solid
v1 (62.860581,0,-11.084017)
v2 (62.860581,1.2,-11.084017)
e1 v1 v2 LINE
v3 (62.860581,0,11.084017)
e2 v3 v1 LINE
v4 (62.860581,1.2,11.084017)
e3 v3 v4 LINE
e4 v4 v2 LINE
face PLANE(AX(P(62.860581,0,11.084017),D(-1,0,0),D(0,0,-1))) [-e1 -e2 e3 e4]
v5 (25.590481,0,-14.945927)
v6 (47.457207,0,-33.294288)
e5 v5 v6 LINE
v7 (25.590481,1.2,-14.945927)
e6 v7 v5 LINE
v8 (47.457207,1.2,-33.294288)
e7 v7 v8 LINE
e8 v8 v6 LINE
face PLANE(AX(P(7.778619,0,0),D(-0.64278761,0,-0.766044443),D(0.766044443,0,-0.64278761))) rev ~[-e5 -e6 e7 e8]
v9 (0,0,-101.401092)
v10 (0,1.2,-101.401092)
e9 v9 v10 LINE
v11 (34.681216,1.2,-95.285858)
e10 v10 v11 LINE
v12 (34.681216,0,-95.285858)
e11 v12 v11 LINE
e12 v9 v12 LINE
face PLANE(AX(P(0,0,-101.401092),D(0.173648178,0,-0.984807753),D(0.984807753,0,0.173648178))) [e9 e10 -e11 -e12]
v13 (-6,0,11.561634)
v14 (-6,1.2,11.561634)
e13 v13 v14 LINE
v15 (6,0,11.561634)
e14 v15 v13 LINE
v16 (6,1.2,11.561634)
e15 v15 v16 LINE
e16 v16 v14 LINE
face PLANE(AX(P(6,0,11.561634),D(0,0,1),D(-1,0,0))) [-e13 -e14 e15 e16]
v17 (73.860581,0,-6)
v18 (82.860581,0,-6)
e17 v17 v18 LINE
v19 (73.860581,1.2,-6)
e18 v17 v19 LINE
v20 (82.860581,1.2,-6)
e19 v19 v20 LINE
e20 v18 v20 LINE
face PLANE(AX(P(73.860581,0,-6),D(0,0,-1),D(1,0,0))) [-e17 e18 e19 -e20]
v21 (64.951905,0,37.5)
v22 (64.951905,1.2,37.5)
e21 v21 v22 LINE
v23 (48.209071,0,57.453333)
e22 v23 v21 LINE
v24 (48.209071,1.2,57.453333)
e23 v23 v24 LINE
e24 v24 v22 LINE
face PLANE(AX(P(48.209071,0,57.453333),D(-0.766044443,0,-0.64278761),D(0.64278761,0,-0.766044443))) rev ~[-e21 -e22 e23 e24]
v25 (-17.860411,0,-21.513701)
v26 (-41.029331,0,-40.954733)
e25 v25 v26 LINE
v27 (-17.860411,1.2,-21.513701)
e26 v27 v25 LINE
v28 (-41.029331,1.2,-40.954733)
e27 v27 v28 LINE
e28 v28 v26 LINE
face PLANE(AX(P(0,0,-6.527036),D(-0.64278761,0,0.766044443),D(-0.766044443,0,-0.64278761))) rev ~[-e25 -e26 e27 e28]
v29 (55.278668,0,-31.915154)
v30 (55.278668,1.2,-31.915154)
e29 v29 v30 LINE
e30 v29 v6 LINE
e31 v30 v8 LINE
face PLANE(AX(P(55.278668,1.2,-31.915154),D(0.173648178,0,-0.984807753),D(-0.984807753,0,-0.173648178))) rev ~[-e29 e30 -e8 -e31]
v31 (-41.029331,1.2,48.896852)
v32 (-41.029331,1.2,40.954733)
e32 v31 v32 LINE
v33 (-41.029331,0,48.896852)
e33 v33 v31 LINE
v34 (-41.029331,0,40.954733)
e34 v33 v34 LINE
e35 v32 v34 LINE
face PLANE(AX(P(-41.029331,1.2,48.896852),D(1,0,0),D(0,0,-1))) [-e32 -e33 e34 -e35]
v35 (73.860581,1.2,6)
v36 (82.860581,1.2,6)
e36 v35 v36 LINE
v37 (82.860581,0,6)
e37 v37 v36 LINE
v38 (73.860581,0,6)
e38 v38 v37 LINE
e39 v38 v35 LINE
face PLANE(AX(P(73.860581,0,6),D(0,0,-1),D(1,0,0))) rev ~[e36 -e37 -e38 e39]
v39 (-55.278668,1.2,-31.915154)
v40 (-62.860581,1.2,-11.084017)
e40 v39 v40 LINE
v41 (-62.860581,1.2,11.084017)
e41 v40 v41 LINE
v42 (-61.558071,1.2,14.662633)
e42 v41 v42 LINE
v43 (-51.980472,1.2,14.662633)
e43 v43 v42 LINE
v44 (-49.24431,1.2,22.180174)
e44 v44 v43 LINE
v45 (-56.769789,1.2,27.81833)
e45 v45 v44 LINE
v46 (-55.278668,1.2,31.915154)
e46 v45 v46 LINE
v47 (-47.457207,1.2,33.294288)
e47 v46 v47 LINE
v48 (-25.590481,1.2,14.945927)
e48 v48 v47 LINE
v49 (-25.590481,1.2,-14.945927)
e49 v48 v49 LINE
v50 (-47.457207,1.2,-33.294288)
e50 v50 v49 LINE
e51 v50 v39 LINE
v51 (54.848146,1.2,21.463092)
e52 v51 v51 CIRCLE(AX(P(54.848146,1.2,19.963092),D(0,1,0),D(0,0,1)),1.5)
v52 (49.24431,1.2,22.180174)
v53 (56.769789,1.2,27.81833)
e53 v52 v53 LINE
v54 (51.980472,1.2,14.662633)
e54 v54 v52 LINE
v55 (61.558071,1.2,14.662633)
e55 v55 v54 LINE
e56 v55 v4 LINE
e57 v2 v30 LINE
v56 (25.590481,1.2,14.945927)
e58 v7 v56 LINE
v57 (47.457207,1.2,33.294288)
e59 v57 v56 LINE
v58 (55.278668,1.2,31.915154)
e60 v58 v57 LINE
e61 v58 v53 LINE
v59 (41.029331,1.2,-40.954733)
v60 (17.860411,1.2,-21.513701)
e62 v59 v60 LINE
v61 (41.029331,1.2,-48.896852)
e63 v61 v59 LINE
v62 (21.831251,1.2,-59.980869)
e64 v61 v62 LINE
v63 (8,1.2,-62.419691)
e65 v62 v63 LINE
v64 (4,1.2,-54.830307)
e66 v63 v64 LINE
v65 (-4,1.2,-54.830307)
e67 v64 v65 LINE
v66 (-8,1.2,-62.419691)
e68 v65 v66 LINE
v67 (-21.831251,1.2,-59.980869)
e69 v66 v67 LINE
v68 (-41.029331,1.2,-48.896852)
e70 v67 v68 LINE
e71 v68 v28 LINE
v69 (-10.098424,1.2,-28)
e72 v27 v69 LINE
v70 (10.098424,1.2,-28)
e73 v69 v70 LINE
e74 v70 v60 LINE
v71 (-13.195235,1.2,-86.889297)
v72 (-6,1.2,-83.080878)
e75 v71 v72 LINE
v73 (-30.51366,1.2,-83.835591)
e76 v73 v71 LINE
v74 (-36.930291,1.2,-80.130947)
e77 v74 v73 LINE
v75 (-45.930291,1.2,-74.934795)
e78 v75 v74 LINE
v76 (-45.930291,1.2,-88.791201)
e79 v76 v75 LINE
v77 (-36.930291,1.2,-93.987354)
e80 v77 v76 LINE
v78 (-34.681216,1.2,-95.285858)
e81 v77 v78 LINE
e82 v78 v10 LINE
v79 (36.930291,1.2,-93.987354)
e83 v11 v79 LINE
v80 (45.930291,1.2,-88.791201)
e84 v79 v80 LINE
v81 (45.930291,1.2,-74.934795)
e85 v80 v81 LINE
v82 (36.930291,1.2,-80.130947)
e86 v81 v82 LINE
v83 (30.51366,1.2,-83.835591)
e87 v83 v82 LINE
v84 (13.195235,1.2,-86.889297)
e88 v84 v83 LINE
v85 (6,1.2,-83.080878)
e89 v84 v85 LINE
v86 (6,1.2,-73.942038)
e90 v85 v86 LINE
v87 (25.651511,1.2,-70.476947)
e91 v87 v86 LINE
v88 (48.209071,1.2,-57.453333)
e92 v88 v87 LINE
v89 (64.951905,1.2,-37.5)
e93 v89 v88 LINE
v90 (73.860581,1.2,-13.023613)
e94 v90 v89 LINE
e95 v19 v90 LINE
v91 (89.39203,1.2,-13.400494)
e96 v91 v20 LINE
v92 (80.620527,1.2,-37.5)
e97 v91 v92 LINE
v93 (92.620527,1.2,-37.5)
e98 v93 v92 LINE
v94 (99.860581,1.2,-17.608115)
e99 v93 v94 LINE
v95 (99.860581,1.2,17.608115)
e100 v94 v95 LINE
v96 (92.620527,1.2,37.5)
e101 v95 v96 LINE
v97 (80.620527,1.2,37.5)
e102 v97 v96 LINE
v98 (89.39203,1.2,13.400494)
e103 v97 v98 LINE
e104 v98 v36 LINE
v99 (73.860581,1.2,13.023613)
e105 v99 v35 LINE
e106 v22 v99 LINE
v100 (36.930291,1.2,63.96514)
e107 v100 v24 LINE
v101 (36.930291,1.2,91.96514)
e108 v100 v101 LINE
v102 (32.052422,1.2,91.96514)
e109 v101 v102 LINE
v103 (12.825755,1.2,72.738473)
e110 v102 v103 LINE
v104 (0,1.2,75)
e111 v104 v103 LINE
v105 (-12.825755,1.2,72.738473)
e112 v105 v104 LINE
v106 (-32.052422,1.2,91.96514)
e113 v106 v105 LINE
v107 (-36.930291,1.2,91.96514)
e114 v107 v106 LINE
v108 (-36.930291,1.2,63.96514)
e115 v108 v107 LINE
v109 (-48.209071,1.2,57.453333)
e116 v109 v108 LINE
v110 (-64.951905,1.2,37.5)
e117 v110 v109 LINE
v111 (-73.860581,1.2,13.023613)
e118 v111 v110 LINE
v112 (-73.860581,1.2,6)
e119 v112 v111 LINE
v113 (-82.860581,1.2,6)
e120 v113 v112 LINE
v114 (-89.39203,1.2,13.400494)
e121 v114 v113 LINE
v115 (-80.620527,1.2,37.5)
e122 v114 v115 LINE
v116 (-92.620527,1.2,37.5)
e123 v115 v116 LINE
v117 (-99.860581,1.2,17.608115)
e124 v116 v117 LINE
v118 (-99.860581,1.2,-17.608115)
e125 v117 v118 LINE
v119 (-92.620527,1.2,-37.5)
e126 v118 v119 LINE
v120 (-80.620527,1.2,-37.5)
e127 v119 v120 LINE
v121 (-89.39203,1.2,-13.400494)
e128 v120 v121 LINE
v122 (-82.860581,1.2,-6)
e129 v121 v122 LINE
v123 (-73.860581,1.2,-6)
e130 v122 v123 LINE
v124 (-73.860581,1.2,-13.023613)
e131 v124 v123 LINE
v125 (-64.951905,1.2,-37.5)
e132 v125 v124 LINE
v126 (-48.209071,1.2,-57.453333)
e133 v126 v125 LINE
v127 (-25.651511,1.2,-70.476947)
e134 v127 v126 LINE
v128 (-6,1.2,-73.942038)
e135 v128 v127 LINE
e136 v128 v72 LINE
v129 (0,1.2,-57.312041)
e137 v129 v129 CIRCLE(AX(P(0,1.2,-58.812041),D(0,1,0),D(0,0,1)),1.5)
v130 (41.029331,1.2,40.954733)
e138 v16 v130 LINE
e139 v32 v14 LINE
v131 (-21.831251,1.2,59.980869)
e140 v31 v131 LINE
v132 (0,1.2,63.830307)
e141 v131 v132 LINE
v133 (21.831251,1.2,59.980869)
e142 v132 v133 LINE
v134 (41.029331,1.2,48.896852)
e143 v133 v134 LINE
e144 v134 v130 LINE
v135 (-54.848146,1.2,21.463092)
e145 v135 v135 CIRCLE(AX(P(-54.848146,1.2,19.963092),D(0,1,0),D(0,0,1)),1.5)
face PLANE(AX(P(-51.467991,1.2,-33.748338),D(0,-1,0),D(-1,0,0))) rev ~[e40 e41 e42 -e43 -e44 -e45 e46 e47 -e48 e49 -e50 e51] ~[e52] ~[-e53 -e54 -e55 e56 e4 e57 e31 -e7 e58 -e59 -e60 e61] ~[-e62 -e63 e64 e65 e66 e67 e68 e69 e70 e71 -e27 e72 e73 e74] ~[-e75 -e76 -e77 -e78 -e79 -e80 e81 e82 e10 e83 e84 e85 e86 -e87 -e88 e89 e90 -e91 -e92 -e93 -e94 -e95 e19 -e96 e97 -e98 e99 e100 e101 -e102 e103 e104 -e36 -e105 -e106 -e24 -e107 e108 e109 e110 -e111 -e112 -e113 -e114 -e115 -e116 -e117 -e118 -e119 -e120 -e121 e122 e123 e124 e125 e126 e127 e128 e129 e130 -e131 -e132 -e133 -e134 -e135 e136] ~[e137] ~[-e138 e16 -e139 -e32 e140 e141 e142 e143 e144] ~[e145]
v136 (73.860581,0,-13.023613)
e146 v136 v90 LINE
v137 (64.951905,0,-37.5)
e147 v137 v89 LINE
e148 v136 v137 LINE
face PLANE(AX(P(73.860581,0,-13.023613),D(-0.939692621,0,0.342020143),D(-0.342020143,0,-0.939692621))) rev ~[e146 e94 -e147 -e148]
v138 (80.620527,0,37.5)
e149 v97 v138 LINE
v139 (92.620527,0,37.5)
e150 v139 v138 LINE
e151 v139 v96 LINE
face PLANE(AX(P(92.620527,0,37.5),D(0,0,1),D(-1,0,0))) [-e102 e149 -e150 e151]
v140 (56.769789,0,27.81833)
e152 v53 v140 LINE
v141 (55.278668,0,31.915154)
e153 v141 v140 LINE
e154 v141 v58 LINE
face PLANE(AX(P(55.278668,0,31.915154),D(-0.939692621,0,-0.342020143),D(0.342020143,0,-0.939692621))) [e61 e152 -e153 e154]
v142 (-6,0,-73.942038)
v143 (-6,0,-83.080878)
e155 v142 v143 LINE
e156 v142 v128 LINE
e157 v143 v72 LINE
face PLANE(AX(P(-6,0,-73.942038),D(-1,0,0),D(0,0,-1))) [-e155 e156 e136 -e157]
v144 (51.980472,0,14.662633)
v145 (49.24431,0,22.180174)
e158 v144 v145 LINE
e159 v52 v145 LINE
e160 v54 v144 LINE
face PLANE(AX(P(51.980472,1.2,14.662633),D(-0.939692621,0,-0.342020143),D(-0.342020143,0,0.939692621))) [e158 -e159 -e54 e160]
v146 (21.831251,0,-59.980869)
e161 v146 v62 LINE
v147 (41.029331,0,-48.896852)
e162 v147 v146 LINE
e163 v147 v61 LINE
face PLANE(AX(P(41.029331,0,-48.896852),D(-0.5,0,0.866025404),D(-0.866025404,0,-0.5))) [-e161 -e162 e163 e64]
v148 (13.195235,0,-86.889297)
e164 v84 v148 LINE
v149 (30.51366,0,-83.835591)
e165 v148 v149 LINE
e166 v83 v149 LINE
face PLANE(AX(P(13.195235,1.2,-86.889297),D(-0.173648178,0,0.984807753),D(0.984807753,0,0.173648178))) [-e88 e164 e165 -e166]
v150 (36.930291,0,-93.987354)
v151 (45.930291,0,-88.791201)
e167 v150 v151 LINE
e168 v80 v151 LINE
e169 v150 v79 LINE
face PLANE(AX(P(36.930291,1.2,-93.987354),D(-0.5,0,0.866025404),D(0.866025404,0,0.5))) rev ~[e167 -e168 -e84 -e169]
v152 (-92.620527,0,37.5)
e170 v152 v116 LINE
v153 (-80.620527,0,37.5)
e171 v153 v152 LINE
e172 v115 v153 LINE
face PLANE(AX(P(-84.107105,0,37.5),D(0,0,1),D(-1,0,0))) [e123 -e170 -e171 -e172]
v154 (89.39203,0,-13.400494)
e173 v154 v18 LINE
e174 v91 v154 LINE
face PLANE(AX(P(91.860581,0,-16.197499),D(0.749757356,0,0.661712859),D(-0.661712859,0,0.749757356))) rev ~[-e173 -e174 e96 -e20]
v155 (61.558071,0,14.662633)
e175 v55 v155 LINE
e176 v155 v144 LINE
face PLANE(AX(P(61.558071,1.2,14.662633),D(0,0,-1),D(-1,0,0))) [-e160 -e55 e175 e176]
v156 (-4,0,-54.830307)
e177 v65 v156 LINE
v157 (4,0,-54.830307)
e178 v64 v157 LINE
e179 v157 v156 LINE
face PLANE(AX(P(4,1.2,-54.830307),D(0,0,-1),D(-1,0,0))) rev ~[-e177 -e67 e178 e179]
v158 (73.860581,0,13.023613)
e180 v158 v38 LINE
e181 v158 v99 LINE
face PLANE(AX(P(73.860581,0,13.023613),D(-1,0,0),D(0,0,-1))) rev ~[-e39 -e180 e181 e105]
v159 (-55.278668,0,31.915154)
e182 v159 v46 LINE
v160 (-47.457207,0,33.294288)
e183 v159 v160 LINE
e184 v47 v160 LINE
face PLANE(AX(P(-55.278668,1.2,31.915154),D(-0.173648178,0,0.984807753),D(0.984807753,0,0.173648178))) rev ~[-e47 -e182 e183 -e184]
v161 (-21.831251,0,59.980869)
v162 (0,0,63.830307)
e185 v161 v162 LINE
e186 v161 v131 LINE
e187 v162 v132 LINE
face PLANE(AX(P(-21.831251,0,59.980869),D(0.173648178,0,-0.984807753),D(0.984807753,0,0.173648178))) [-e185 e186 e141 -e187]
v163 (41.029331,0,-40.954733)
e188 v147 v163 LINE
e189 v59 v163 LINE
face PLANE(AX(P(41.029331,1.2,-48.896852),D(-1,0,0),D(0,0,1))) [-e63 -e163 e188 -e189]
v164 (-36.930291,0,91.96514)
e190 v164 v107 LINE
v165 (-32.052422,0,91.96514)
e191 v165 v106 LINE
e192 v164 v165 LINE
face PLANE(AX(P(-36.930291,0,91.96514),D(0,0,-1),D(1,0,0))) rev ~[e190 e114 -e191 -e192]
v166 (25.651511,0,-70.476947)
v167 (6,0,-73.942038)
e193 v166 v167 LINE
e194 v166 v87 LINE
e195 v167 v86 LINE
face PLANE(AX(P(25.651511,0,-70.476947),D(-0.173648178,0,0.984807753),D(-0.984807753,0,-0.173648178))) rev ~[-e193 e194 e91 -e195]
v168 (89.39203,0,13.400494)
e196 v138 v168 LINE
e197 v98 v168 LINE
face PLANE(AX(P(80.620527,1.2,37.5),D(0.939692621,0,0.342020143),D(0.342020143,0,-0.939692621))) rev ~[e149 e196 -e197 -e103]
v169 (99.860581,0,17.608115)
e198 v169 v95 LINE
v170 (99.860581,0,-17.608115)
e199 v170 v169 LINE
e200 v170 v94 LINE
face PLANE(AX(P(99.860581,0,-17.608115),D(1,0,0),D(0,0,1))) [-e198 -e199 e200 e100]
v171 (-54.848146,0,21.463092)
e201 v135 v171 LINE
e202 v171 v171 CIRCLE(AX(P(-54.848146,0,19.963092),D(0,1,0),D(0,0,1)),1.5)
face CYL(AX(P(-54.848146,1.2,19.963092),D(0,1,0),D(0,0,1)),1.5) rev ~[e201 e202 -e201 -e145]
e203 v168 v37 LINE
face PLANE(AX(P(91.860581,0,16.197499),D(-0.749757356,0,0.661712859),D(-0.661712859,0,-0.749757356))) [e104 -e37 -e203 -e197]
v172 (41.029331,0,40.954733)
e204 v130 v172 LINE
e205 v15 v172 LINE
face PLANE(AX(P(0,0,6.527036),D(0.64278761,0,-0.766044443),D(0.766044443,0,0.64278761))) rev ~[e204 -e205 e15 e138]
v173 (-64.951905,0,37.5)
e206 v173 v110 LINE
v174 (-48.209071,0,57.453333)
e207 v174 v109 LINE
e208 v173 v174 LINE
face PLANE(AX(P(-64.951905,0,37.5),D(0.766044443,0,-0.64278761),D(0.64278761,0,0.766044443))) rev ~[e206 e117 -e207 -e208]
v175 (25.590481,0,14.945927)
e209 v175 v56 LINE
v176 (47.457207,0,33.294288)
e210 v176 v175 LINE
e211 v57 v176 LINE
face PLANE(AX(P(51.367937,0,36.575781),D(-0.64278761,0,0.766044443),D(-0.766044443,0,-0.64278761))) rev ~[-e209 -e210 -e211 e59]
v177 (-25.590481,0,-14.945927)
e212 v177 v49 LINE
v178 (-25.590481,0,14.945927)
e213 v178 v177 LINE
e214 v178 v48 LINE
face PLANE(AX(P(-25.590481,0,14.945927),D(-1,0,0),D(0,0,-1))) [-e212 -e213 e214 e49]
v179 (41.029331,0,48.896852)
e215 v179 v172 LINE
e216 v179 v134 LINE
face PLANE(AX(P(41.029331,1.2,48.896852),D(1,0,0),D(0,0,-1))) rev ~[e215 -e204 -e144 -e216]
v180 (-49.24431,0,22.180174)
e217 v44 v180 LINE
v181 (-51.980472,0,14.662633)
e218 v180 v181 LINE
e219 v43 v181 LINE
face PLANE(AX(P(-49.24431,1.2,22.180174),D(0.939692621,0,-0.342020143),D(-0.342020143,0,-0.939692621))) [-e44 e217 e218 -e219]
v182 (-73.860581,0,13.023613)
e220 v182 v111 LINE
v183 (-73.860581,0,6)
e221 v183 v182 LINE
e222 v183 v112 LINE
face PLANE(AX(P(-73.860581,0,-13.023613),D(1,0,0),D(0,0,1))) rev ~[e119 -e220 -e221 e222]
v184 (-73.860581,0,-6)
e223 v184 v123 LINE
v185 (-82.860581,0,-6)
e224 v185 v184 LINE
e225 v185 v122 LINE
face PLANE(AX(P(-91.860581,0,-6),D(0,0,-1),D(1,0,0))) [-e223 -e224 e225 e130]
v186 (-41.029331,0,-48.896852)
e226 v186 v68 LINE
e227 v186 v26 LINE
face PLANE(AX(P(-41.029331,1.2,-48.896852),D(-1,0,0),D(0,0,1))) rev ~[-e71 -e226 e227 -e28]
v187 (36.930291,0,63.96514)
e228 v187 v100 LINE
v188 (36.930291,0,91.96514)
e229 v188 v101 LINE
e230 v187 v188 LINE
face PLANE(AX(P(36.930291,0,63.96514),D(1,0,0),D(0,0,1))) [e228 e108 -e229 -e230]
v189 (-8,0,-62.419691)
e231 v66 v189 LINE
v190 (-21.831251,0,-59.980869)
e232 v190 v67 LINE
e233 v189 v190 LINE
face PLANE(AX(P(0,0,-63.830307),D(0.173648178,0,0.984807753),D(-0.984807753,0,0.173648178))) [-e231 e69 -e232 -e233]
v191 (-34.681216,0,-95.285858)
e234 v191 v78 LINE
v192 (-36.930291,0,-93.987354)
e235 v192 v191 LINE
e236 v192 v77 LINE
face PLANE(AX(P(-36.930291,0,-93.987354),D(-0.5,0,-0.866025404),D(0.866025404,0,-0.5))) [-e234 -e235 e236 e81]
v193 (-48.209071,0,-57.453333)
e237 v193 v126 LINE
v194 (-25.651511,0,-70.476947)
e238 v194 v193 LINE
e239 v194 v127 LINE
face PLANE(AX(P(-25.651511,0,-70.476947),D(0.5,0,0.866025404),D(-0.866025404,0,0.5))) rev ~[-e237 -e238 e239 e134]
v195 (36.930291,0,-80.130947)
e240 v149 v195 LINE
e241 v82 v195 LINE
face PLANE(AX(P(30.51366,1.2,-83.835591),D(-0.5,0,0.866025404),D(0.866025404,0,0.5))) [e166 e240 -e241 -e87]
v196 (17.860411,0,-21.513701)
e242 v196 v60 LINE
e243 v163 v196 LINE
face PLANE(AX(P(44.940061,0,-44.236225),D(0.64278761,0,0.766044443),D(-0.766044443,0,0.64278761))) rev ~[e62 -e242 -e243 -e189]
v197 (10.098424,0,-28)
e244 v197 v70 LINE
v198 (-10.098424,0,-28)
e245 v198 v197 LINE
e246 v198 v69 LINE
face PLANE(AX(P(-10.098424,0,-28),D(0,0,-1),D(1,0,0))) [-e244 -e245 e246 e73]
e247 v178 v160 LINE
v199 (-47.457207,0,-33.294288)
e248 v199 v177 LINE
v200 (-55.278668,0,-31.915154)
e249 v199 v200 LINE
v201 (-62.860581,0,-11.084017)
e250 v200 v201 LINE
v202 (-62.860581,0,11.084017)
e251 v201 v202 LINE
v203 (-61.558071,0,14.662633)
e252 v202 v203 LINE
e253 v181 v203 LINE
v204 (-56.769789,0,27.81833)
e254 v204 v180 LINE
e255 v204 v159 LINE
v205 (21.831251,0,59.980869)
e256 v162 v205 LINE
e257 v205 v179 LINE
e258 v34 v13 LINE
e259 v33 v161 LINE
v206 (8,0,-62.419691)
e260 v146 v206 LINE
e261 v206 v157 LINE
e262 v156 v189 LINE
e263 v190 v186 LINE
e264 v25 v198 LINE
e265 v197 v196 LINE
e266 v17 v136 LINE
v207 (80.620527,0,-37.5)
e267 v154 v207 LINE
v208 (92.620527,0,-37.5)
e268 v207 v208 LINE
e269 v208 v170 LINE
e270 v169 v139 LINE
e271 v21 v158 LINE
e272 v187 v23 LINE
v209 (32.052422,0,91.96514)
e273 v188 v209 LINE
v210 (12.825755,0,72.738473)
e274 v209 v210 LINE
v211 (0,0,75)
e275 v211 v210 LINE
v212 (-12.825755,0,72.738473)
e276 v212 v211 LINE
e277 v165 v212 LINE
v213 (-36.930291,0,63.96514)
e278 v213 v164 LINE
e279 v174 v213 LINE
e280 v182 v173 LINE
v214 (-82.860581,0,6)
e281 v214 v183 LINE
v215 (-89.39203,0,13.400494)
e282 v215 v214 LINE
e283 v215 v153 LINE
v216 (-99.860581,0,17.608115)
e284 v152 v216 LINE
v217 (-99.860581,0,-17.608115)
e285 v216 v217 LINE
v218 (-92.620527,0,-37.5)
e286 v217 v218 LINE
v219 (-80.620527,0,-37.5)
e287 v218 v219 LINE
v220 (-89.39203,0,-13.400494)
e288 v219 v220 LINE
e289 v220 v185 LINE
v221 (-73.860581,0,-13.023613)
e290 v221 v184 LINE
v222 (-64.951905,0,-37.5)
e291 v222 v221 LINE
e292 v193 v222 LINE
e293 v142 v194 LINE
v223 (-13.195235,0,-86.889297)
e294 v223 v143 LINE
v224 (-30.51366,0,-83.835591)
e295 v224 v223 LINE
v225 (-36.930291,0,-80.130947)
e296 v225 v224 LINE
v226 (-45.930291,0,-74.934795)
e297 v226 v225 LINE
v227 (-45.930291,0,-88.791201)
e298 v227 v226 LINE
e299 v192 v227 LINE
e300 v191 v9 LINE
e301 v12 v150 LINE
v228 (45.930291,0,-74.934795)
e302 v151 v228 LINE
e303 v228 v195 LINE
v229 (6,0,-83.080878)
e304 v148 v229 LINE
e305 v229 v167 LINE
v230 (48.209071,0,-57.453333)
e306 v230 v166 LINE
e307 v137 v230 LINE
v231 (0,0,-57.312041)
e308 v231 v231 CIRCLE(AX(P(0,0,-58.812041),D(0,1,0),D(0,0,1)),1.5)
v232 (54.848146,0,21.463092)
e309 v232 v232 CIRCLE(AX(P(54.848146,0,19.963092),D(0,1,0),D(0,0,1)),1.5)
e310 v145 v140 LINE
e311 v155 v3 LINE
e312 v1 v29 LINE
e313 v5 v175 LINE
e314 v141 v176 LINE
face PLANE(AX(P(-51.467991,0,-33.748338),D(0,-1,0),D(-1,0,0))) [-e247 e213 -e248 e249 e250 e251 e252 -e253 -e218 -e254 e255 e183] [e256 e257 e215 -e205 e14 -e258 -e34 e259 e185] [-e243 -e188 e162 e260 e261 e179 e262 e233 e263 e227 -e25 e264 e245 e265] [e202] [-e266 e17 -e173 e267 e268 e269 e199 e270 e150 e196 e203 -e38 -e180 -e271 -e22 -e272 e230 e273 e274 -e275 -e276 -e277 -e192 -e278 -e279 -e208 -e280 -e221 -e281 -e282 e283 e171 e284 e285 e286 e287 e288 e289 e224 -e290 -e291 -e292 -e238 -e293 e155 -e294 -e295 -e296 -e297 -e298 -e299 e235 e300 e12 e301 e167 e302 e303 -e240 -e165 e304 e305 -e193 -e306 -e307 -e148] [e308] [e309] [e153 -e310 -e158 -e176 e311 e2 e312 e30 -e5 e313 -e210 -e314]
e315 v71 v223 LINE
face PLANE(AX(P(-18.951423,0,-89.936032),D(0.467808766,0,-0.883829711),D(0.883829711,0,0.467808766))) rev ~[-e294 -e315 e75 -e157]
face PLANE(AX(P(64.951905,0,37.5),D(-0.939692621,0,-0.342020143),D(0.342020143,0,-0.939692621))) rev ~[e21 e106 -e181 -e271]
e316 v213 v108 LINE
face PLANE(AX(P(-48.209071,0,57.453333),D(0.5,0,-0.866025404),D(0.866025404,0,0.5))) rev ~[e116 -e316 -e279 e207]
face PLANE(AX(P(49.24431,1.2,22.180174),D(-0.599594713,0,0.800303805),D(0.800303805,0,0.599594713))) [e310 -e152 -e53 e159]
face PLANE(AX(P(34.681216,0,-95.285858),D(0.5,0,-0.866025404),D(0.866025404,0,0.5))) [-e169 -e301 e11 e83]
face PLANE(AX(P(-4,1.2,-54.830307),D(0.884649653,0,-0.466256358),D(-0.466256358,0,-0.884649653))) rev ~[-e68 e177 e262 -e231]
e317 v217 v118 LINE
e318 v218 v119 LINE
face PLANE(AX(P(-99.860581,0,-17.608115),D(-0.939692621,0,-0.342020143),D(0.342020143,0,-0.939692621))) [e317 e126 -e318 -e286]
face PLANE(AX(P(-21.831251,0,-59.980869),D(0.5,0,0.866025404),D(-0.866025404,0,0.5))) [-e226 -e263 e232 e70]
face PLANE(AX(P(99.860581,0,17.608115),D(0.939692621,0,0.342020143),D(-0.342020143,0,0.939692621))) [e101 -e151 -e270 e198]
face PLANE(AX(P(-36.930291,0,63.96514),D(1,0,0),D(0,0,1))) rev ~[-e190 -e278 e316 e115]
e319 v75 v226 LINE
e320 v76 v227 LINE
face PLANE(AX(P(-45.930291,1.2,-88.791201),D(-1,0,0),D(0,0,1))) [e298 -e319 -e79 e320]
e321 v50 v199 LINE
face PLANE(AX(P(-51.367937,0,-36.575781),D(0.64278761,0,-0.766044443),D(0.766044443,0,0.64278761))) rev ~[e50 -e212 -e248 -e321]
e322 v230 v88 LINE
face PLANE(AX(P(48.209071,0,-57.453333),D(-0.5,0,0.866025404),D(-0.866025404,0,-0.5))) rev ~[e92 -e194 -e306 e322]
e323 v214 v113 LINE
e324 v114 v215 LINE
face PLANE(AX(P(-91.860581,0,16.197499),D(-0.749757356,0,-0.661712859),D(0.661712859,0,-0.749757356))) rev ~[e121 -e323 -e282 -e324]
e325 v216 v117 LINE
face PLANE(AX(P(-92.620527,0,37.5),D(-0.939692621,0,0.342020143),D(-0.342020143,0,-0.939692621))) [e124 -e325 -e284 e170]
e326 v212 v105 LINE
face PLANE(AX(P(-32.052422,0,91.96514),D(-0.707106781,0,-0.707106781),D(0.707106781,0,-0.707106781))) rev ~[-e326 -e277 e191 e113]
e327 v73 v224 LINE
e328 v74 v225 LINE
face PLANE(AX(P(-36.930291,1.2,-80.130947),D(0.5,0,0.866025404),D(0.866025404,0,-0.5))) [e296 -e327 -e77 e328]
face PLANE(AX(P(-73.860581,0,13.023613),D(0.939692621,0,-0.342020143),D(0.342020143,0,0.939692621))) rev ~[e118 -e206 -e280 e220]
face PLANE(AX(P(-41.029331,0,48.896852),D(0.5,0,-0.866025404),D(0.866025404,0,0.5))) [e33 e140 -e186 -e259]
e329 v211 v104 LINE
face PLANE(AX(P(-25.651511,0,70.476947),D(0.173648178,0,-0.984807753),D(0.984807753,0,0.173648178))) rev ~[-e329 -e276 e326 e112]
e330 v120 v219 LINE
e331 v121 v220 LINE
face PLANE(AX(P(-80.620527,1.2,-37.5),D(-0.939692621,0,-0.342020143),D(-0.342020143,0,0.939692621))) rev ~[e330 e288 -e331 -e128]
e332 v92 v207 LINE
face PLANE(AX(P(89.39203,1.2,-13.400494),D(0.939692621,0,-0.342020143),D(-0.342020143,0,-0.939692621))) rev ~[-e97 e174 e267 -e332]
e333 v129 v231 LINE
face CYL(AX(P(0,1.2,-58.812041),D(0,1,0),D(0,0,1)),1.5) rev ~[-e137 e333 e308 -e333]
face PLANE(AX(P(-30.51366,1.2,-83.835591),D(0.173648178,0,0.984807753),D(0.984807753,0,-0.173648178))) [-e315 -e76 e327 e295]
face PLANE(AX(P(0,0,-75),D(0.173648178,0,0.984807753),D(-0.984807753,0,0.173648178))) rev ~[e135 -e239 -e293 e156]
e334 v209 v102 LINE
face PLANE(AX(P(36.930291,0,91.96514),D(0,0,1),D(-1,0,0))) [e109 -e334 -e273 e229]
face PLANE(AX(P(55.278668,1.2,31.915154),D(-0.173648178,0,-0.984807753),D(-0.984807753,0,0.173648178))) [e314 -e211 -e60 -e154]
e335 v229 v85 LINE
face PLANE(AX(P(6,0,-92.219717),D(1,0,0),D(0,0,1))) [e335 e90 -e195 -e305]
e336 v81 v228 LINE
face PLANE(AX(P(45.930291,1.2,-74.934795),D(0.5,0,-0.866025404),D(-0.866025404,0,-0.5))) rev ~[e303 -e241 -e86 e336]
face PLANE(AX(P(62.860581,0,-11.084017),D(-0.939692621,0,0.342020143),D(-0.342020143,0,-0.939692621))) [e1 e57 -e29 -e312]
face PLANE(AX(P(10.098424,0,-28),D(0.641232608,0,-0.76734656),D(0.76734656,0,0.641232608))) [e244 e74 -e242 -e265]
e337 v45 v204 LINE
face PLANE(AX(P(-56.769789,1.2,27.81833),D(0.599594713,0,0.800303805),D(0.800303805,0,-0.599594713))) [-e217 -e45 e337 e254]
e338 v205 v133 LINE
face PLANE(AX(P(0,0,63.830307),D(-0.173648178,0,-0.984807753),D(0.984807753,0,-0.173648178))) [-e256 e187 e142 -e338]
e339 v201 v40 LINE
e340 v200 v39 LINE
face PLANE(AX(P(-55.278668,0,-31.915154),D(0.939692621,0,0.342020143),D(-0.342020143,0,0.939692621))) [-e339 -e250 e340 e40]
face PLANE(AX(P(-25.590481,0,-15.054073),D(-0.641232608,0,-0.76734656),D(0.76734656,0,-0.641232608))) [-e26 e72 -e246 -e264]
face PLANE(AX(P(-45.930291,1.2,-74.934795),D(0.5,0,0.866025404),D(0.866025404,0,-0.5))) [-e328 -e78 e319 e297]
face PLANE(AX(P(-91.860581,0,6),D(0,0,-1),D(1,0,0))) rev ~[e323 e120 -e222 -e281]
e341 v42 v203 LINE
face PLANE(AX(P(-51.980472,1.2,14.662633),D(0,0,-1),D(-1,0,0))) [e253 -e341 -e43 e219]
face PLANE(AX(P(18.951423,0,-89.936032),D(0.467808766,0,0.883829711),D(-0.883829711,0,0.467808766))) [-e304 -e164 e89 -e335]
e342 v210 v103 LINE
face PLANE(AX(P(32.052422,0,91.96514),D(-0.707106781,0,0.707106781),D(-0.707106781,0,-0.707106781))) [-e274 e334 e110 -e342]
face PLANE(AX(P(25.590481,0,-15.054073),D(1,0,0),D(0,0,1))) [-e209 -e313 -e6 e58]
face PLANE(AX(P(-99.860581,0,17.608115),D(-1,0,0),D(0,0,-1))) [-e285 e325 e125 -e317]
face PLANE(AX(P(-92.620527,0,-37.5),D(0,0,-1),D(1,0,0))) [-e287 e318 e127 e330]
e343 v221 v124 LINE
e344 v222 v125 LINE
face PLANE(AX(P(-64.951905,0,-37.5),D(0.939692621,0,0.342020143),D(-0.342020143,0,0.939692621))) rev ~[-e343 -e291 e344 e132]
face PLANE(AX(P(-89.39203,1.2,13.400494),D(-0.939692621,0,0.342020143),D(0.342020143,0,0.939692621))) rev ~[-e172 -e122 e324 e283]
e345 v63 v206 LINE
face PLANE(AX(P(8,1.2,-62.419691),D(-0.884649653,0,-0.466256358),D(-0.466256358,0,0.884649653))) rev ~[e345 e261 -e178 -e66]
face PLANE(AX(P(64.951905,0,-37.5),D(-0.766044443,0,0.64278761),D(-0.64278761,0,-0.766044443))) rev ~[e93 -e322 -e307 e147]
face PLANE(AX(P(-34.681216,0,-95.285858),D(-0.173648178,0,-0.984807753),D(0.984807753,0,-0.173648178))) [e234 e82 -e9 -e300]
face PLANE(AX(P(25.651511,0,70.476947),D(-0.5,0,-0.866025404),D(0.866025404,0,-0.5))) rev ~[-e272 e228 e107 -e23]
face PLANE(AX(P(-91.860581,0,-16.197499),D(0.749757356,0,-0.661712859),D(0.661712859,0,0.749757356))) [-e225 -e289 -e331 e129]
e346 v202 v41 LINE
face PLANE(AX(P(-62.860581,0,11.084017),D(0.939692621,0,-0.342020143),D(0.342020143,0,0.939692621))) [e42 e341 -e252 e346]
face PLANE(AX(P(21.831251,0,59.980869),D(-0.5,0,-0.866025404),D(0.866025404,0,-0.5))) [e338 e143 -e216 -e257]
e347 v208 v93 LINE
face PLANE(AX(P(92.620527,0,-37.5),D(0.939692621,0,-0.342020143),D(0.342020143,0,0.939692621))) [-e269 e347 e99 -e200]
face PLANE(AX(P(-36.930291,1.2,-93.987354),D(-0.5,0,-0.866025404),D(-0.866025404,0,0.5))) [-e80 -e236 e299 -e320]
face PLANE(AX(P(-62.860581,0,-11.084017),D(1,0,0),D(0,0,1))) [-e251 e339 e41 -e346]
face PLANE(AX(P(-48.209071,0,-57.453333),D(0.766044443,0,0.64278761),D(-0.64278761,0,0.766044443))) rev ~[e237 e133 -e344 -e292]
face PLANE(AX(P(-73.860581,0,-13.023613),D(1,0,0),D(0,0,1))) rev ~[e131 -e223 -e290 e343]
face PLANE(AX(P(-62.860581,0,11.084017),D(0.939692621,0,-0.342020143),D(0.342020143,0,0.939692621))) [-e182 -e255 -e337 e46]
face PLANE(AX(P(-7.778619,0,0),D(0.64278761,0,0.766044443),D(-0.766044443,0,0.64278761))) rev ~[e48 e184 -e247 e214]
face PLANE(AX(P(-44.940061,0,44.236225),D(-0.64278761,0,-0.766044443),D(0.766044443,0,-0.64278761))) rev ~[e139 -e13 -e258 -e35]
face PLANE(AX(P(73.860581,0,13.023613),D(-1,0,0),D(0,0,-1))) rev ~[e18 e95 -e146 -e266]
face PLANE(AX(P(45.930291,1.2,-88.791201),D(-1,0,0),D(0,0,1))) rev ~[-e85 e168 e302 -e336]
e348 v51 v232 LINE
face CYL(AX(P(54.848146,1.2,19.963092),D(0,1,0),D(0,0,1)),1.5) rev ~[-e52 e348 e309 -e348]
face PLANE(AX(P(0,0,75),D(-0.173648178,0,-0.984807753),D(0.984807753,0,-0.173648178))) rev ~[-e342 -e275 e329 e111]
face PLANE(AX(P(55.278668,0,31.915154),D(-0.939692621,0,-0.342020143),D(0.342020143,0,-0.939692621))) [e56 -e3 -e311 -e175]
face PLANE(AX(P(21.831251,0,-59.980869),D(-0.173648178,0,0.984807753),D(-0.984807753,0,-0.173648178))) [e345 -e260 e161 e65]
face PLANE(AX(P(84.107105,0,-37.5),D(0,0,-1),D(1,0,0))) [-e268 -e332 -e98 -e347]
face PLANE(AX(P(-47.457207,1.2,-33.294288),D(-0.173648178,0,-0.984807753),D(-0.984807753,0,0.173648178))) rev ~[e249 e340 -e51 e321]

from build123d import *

# Parameters (mm, degrees)
BOSS_EXTRUDE1_DEPTH    = 1.2
BOSS_EXTRUDE17_DEPTH   = 1.2
BOSS_EXTRUDE17_2_DEPTH = 1.2
BOSS_EXTRUDE17_3_DEPTH = 1.2
SKETCH18_W             = 18
SKETCH18_H             = 12
BOSS_EXTRUDE18_DEPTH   = 1.2
BOSS_EXTRUDE19_DEPTH   = 1.2
BOSS_EXTRUDE20_DEPTH   = 1.2
BOSS_EXTRUDE21_DEPTH   = 1.2
BOSS_EXTRUDE22_DEPTH   = 1.2
BOSS_EXTRUDE23_DEPTH   = 1.2
BOSS_EXTRUDE26_DEPTH   = 1.2
BOSS_EXTRUDE29_DEPTH   = 1.2
BOSS_EXTRUDE30_DEPTH   = 1.2
BOSS_EXTRUDE31_DEPTH   = 1.2
SKETCH37_R             = 1.5
CUT_EXTRUDE1_DEPTH     = 1.2
SKETCH38_R             = 1.5
CUT_EXTRUDE2_DEPTH     = 1.2
BOSS_EXTRUDE32_DEPTH   = 1.2


with BuildPart() as part:
    # Sketch1 → Boss-Extrude1 (new body)
    with BuildSketch(Plane(origin=(0, 0, 0), x_dir=(1, 0, 0), z_dir=(0, 1, 0))):
        Polygon((0, 75), (-25.651510749, 70.476946559), (-48.209070726, 57.453333234), (-64.951905284, 37.5), (-73.860581476, 13.023613325), (-73.860581476, -13.023613325), (-64.951905284, -37.5), (-48.209070726, -57.453333234), (-25.651510749, -70.476946559), (0, -75), (25.651510749, -70.476946559), (48.209070726, -57.453333234), (64.951905284, -37.5), (73.860581476, -13.023613325), (73.860581476, 13.023613325), (64.951905284, 37.5), (48.209070726, 57.453333234), (25.651510749, 70.476946559), align=None)
        Polygon((0, 63.830307269), (-21.831250841, 59.980868723), (-41.029330635, 48.896852186), (-55.278667627, 31.915153635), (-62.860581476, 11.084016537), (-62.860581476, -11.084016537), (-55.278667627, -31.915153635), (-41.029330635, -48.896852186), (-21.831250841, -59.980868723), (0, -63.830307269), (21.831250841, -59.980868723), (41.029330635, -48.896852186), (55.278667627, -31.915153635), (62.860581476, -11.084016537), (62.860581476, 11.084016537), (55.278667627, 31.915153635), (41.029330635, 48.896852186), (21.831250841, 59.980868723), align=None, mode=Mode.SUBTRACT)
    extrude(amount=BOSS_EXTRUDE1_DEPTH)



with BuildPart() as body_2:
    # Sketch15 → Boss-Extrude17 (new body)
    with BuildSketch(Plane.XZ):
        Polygon((0, -101.401091909), (34.681215988, -95.285857807), (36.930290738, -93.987353894), (36.930290738, -84.749749587), (31.902845145, -87.652346653), (0, -93.277679014), (-31.902845145, -87.652346653), (-36.930290738, -84.749749587), (-36.930290738, -93.987353894), (-34.681215988, -95.285857807), align=None)
    extrude(amount=-BOSS_EXTRUDE17_DEPTH)


with BuildPart() as body_3:
    # Sketch15 → Boss-Extrude17 2 (new body)
    with BuildSketch(Plane.XZ):
        Polygon((92.620527368, -37.5), (99.860581476, -17.608114823), (99.860581476, 17.608114823), (92.620527368, 37.5), (84.107105188, 37.5), (91.860581476, 16.197498978), (91.860581476, -16.197498978), (84.107105188, -37.5), align=None)
    extrude(amount=-BOSS_EXTRUDE17_2_DEPTH)


with BuildPart() as body_4:
    # Sketch15 → Boss-Extrude17 3 (new body)
    with BuildSketch(Plane.XZ):
        Polygon((-92.620527368, 37.5), (-99.860581476, 17.608114823), (-99.860581476, -17.608114823), (-92.620527368, -37.5), (-84.107105188, -37.5), (-91.860581476, -16.197498978), (-91.860581476, 16.197498978), (-84.107105188, 37.5), align=None)
    extrude(amount=-BOSS_EXTRUDE17_3_DEPTH)


with BuildPart() as part_1:
    add(part.part)

    add(body_2.part)  # Boss-Extrude18 merges body 2

    add(body_3.part)  # Boss-Extrude18 merges body 3

    add(body_4.part)  # Boss-Extrude18 merges body 4
    # Sketch18 → Boss-Extrude18 (add)
    with BuildSketch(Plane.XZ):
        with Locations((-82.860581476, 0)):
            Rectangle(SKETCH18_W, SKETCH18_H)
        with Locations((82.860581476, 0)):
            Rectangle(SKETCH18_W, SKETCH18_H)
        Polygon((-6, -73.942038116), (-6, -92.21971713), (0, -93.277679014), (6, -92.21971713), (6, -73.942038116), (0, -75), align=None)
    extrude(amount=-BOSS_EXTRUDE18_DEPTH)

    # Sketch19 → Boss-Extrude19 (add)
    with BuildSketch(Plane.XZ):
        Polygon((-91.860581476, 16.197498978), (-82.860581476, 6), (-91.860581476, 6), align=None)
        Polygon((-91.860581476, -16.197498978), (-82.860581476, -6), (-91.860581476, -6), align=None)
        Polygon((91.860581476, 16.197498978), (82.860581476, 6), (91.860581476, 6), align=None)
        Polygon((91.860581476, -16.197498978), (82.860581476, -6), (91.860581476, -6), align=None)
        Polygon((18.951422573, -89.936031892), (6, -83.080877623), (6, -92.21971713), align=None)
        Polygon((-6, -83.080877623), (-6, -92.21971713), (-18.951422573, -89.936031892), align=None)
    extrude(amount=-BOSS_EXTRUDE19_DEPTH)

    # Sketch20 → Boss-Extrude20 (add)
    with BuildSketch(Plane.XZ):
        Polygon((-36.930290738, 63.965139896), (-36.930290738, 91.965139896), (-32.052421992, 91.965139896), (-12.825755375, 72.738473279), (-25.651510749, 70.476946559), align=None)
        Polygon((36.930290738, 63.965139896), (36.930290738, 91.965139896), (32.052421992, 91.965139896), (12.825755375, 72.738473279), (25.651510749, 70.476946559), align=None)
    extrude(amount=-BOSS_EXTRUDE20_DEPTH)

    # Sketch23 → Boss-Extrude21 (add)
    with BuildSketch(Plane(origin=(0, 1.2, 0), x_dir=(1, 0, 0), z_dir=(0, 1, 0))):
        Polygon((-92.620527368, 37.5), (-80.620527368, 37.5), (-89.392030332, 13.400493671), (-89.392030332, -13.400493671), (-80.620527368, -37.5), (-92.620527368, -37.5), (-99.860581476, -17.608114823), (-99.860581476, 17.608114823), align=None)
        Polygon((80.620527368, -37.5), (89.392030332, -13.400493671), (89.392030332, 13.400493671), (80.620527368, 37.5), (92.620527368, 37.5), (99.860581476, 17.608114823), (99.860581476, -17.608114823), (92.620527368, -37.5), align=None)
    extrude(amount=-BOSS_EXTRUDE21_DEPTH)

    # Sketch24 → Boss-Extrude22 (add)
    with BuildSketch(Plane(origin=(0, 1.2, 0), x_dir=(1, 0, 0), z_dir=(0, 1, 0))):
        Polygon((-36.930290738, 93.987353894), (-36.930290738, 80.130947434), (-30.513659724, 83.835591077), (-13.195234763, 86.889296661), (13.195234763, 86.889296661), (30.513659724, 83.835591077), (36.930290738, 80.130947434), (36.930290738, 93.987353894), (34.681215988, 95.285857807), (0, 101.401091909), (-34.681215988, 95.285857807), align=None)
    extrude(amount=-BOSS_EXTRUDE22_DEPTH)

    # Sketch26 → Boss-Extrude23 (add)
    with BuildSketch(Plane(origin=(0, 1.2, 0), x_dir=(1, 0, 0), z_dir=(0, 1, 0))):
        Polygon((-36.930290738, 93.987353894), (-45.930290738, 88.791201472), (-45.930290738, 74.934795011), (-36.930290738, 80.130947434), align=None)
        Polygon((36.930290738, 93.987353894), (45.930290738, 88.791201472), (45.930290738, 74.934795011), (36.930290738, 80.130947434), align=None)
    extrude(amount=-BOSS_EXTRUDE23_DEPTH)

    # Sketch27 → Boss-Extrude26 (add)
    with BuildSketch(Plane.XZ):
        Polygon((-44.940061082, 44.236225126), (0, 6.527036447), (44.940061082, 44.236225126), (51.367937179, 36.575780695), (7.778619134, 0), (51.367937179, -36.575780695), (44.940061082, -44.236225126), (0, -6.527036447), (-44.940061082, -44.236225126), (-51.367937179, -36.575780695), (-7.778619134, 0), (-51.367937179, 36.575780695), align=None)
    extrude(amount=-BOSS_EXTRUDE26_DEPTH)

    # Sketch31 → Boss-Extrude29 (add)
    with BuildSketch(Plane.XZ):
        Polygon((-10.098423643, -28), (10.098423643, -28), (25.590481458, -15.054072893), (25.590481458, 14.945927107), (6, 11.561634234), (-6, 11.561634234), (-25.590481458, 14.945927107), (-25.590481458, -15.054072893), align=None)
    extrude(amount=-BOSS_EXTRUDE29_DEPTH)

    # Sketch32 → Boss-Extrude30 (add)
    with BuildSketch(Plane(origin=(0, 1.2, 0), x_dir=(1, 0, 0), z_dir=(0, 1, 0))):
        Polygon((-41.029330635, 48.896852186), (-41.029330635, 40.95473265), (-44.940061082, 44.236225126), align=None)
        Polygon((41.029330635, 48.896852186), (41.029330635, 40.95473265), (44.940061082, 44.236225126), align=None)
        Polygon((44.940061082, -44.236225126), (41.029330635, -48.896852186), (41.029330635, -40.95473265), align=None)
        Polygon((-41.029330635, -48.896852186), (-41.029330635, -40.95473265), (-44.940061082, -44.236225126), align=None)
    extrude(amount=-BOSS_EXTRUDE30_DEPTH)

    # Sketch34 → Boss-Extrude31 (add)
    with BuildSketch(Plane(origin=(0, 1.2, 0), x_dir=(1, 0, 0), z_dir=(0, 1, 0))):
        Polygon((8, 62.419691424), (4, 54.830307269), (-4, 54.830307269), (-8, 62.419691424), (0, 63.830307269), align=None)
        Polygon((-61.55807149, -14.662633313), (-56.769789483, -27.818330004), (-49.244310391, -22.180174279), (-50.612390964, -18.421403796), (-51.980471537, -14.662633313), align=None)
        Polygon((50.612390964, -18.421403796), (49.244310391, -22.180174279), (56.769789483, -27.818330004), (61.55807149, -14.662633313), (51.980471537, -14.662633313), align=None)
    extrude(amount=-BOSS_EXTRUDE31_DEPTH)

    # Sketch37 → Cut-Extrude1 (cut)
    with BuildSketch(Plane(origin=(0, 1.2, 0), x_dir=(1, 0, 0), z_dir=(0, 1, 0))):
        with Locations(Location((-54.84814578, -19.96309247, 0), (0, 0, 270))):
            Circle(SKETCH37_R)
        with Locations(Location((54.84814578, -19.96309247, 0), (0, 0, 270))):
            Circle(SKETCH37_R)
    extrude(amount=-CUT_EXTRUDE1_DEPTH, mode=Mode.SUBTRACT)

    # Sketch38 → Cut-Extrude2 (cut)
    with BuildSketch(Plane(origin=(0, 1.2, 0), x_dir=(1, 0, 0), z_dir=(0, 1, 0))):
        with Locations(Location((0, 58.81204127, 0), (0, 0, 270))):
            Circle(SKETCH38_R)
    extrude(amount=-CUT_EXTRUDE2_DEPTH, mode=Mode.SUBTRACT)

    # Sketch39 → Boss-Extrude32 (add)
    with BuildSketch(Plane(origin=(0, 1.2, 0), x_dir=(1, 0, 0), z_dir=(0, 1, 0))):
        Polygon((-51.367937179, 36.575780695), (-47.457206732, 33.294288219), (-55.278667627, 31.915153635), align=None)
        Polygon((51.367937179, 36.575780695), (55.278667627, 31.915153635), (47.457206732, 33.294288219), align=None)
        Polygon((51.367937179, -36.575780695), (55.278667627, -31.915153635), (47.457206732, -33.294288219), align=None)
        Polygon((-47.457206732, -33.294288219), (-51.367937179, -36.575780695), (-55.278667627, -31.915153635), align=None)
    extrude(amount=-BOSS_EXTRUDE32_DEPTH)


solid = part_1.part
